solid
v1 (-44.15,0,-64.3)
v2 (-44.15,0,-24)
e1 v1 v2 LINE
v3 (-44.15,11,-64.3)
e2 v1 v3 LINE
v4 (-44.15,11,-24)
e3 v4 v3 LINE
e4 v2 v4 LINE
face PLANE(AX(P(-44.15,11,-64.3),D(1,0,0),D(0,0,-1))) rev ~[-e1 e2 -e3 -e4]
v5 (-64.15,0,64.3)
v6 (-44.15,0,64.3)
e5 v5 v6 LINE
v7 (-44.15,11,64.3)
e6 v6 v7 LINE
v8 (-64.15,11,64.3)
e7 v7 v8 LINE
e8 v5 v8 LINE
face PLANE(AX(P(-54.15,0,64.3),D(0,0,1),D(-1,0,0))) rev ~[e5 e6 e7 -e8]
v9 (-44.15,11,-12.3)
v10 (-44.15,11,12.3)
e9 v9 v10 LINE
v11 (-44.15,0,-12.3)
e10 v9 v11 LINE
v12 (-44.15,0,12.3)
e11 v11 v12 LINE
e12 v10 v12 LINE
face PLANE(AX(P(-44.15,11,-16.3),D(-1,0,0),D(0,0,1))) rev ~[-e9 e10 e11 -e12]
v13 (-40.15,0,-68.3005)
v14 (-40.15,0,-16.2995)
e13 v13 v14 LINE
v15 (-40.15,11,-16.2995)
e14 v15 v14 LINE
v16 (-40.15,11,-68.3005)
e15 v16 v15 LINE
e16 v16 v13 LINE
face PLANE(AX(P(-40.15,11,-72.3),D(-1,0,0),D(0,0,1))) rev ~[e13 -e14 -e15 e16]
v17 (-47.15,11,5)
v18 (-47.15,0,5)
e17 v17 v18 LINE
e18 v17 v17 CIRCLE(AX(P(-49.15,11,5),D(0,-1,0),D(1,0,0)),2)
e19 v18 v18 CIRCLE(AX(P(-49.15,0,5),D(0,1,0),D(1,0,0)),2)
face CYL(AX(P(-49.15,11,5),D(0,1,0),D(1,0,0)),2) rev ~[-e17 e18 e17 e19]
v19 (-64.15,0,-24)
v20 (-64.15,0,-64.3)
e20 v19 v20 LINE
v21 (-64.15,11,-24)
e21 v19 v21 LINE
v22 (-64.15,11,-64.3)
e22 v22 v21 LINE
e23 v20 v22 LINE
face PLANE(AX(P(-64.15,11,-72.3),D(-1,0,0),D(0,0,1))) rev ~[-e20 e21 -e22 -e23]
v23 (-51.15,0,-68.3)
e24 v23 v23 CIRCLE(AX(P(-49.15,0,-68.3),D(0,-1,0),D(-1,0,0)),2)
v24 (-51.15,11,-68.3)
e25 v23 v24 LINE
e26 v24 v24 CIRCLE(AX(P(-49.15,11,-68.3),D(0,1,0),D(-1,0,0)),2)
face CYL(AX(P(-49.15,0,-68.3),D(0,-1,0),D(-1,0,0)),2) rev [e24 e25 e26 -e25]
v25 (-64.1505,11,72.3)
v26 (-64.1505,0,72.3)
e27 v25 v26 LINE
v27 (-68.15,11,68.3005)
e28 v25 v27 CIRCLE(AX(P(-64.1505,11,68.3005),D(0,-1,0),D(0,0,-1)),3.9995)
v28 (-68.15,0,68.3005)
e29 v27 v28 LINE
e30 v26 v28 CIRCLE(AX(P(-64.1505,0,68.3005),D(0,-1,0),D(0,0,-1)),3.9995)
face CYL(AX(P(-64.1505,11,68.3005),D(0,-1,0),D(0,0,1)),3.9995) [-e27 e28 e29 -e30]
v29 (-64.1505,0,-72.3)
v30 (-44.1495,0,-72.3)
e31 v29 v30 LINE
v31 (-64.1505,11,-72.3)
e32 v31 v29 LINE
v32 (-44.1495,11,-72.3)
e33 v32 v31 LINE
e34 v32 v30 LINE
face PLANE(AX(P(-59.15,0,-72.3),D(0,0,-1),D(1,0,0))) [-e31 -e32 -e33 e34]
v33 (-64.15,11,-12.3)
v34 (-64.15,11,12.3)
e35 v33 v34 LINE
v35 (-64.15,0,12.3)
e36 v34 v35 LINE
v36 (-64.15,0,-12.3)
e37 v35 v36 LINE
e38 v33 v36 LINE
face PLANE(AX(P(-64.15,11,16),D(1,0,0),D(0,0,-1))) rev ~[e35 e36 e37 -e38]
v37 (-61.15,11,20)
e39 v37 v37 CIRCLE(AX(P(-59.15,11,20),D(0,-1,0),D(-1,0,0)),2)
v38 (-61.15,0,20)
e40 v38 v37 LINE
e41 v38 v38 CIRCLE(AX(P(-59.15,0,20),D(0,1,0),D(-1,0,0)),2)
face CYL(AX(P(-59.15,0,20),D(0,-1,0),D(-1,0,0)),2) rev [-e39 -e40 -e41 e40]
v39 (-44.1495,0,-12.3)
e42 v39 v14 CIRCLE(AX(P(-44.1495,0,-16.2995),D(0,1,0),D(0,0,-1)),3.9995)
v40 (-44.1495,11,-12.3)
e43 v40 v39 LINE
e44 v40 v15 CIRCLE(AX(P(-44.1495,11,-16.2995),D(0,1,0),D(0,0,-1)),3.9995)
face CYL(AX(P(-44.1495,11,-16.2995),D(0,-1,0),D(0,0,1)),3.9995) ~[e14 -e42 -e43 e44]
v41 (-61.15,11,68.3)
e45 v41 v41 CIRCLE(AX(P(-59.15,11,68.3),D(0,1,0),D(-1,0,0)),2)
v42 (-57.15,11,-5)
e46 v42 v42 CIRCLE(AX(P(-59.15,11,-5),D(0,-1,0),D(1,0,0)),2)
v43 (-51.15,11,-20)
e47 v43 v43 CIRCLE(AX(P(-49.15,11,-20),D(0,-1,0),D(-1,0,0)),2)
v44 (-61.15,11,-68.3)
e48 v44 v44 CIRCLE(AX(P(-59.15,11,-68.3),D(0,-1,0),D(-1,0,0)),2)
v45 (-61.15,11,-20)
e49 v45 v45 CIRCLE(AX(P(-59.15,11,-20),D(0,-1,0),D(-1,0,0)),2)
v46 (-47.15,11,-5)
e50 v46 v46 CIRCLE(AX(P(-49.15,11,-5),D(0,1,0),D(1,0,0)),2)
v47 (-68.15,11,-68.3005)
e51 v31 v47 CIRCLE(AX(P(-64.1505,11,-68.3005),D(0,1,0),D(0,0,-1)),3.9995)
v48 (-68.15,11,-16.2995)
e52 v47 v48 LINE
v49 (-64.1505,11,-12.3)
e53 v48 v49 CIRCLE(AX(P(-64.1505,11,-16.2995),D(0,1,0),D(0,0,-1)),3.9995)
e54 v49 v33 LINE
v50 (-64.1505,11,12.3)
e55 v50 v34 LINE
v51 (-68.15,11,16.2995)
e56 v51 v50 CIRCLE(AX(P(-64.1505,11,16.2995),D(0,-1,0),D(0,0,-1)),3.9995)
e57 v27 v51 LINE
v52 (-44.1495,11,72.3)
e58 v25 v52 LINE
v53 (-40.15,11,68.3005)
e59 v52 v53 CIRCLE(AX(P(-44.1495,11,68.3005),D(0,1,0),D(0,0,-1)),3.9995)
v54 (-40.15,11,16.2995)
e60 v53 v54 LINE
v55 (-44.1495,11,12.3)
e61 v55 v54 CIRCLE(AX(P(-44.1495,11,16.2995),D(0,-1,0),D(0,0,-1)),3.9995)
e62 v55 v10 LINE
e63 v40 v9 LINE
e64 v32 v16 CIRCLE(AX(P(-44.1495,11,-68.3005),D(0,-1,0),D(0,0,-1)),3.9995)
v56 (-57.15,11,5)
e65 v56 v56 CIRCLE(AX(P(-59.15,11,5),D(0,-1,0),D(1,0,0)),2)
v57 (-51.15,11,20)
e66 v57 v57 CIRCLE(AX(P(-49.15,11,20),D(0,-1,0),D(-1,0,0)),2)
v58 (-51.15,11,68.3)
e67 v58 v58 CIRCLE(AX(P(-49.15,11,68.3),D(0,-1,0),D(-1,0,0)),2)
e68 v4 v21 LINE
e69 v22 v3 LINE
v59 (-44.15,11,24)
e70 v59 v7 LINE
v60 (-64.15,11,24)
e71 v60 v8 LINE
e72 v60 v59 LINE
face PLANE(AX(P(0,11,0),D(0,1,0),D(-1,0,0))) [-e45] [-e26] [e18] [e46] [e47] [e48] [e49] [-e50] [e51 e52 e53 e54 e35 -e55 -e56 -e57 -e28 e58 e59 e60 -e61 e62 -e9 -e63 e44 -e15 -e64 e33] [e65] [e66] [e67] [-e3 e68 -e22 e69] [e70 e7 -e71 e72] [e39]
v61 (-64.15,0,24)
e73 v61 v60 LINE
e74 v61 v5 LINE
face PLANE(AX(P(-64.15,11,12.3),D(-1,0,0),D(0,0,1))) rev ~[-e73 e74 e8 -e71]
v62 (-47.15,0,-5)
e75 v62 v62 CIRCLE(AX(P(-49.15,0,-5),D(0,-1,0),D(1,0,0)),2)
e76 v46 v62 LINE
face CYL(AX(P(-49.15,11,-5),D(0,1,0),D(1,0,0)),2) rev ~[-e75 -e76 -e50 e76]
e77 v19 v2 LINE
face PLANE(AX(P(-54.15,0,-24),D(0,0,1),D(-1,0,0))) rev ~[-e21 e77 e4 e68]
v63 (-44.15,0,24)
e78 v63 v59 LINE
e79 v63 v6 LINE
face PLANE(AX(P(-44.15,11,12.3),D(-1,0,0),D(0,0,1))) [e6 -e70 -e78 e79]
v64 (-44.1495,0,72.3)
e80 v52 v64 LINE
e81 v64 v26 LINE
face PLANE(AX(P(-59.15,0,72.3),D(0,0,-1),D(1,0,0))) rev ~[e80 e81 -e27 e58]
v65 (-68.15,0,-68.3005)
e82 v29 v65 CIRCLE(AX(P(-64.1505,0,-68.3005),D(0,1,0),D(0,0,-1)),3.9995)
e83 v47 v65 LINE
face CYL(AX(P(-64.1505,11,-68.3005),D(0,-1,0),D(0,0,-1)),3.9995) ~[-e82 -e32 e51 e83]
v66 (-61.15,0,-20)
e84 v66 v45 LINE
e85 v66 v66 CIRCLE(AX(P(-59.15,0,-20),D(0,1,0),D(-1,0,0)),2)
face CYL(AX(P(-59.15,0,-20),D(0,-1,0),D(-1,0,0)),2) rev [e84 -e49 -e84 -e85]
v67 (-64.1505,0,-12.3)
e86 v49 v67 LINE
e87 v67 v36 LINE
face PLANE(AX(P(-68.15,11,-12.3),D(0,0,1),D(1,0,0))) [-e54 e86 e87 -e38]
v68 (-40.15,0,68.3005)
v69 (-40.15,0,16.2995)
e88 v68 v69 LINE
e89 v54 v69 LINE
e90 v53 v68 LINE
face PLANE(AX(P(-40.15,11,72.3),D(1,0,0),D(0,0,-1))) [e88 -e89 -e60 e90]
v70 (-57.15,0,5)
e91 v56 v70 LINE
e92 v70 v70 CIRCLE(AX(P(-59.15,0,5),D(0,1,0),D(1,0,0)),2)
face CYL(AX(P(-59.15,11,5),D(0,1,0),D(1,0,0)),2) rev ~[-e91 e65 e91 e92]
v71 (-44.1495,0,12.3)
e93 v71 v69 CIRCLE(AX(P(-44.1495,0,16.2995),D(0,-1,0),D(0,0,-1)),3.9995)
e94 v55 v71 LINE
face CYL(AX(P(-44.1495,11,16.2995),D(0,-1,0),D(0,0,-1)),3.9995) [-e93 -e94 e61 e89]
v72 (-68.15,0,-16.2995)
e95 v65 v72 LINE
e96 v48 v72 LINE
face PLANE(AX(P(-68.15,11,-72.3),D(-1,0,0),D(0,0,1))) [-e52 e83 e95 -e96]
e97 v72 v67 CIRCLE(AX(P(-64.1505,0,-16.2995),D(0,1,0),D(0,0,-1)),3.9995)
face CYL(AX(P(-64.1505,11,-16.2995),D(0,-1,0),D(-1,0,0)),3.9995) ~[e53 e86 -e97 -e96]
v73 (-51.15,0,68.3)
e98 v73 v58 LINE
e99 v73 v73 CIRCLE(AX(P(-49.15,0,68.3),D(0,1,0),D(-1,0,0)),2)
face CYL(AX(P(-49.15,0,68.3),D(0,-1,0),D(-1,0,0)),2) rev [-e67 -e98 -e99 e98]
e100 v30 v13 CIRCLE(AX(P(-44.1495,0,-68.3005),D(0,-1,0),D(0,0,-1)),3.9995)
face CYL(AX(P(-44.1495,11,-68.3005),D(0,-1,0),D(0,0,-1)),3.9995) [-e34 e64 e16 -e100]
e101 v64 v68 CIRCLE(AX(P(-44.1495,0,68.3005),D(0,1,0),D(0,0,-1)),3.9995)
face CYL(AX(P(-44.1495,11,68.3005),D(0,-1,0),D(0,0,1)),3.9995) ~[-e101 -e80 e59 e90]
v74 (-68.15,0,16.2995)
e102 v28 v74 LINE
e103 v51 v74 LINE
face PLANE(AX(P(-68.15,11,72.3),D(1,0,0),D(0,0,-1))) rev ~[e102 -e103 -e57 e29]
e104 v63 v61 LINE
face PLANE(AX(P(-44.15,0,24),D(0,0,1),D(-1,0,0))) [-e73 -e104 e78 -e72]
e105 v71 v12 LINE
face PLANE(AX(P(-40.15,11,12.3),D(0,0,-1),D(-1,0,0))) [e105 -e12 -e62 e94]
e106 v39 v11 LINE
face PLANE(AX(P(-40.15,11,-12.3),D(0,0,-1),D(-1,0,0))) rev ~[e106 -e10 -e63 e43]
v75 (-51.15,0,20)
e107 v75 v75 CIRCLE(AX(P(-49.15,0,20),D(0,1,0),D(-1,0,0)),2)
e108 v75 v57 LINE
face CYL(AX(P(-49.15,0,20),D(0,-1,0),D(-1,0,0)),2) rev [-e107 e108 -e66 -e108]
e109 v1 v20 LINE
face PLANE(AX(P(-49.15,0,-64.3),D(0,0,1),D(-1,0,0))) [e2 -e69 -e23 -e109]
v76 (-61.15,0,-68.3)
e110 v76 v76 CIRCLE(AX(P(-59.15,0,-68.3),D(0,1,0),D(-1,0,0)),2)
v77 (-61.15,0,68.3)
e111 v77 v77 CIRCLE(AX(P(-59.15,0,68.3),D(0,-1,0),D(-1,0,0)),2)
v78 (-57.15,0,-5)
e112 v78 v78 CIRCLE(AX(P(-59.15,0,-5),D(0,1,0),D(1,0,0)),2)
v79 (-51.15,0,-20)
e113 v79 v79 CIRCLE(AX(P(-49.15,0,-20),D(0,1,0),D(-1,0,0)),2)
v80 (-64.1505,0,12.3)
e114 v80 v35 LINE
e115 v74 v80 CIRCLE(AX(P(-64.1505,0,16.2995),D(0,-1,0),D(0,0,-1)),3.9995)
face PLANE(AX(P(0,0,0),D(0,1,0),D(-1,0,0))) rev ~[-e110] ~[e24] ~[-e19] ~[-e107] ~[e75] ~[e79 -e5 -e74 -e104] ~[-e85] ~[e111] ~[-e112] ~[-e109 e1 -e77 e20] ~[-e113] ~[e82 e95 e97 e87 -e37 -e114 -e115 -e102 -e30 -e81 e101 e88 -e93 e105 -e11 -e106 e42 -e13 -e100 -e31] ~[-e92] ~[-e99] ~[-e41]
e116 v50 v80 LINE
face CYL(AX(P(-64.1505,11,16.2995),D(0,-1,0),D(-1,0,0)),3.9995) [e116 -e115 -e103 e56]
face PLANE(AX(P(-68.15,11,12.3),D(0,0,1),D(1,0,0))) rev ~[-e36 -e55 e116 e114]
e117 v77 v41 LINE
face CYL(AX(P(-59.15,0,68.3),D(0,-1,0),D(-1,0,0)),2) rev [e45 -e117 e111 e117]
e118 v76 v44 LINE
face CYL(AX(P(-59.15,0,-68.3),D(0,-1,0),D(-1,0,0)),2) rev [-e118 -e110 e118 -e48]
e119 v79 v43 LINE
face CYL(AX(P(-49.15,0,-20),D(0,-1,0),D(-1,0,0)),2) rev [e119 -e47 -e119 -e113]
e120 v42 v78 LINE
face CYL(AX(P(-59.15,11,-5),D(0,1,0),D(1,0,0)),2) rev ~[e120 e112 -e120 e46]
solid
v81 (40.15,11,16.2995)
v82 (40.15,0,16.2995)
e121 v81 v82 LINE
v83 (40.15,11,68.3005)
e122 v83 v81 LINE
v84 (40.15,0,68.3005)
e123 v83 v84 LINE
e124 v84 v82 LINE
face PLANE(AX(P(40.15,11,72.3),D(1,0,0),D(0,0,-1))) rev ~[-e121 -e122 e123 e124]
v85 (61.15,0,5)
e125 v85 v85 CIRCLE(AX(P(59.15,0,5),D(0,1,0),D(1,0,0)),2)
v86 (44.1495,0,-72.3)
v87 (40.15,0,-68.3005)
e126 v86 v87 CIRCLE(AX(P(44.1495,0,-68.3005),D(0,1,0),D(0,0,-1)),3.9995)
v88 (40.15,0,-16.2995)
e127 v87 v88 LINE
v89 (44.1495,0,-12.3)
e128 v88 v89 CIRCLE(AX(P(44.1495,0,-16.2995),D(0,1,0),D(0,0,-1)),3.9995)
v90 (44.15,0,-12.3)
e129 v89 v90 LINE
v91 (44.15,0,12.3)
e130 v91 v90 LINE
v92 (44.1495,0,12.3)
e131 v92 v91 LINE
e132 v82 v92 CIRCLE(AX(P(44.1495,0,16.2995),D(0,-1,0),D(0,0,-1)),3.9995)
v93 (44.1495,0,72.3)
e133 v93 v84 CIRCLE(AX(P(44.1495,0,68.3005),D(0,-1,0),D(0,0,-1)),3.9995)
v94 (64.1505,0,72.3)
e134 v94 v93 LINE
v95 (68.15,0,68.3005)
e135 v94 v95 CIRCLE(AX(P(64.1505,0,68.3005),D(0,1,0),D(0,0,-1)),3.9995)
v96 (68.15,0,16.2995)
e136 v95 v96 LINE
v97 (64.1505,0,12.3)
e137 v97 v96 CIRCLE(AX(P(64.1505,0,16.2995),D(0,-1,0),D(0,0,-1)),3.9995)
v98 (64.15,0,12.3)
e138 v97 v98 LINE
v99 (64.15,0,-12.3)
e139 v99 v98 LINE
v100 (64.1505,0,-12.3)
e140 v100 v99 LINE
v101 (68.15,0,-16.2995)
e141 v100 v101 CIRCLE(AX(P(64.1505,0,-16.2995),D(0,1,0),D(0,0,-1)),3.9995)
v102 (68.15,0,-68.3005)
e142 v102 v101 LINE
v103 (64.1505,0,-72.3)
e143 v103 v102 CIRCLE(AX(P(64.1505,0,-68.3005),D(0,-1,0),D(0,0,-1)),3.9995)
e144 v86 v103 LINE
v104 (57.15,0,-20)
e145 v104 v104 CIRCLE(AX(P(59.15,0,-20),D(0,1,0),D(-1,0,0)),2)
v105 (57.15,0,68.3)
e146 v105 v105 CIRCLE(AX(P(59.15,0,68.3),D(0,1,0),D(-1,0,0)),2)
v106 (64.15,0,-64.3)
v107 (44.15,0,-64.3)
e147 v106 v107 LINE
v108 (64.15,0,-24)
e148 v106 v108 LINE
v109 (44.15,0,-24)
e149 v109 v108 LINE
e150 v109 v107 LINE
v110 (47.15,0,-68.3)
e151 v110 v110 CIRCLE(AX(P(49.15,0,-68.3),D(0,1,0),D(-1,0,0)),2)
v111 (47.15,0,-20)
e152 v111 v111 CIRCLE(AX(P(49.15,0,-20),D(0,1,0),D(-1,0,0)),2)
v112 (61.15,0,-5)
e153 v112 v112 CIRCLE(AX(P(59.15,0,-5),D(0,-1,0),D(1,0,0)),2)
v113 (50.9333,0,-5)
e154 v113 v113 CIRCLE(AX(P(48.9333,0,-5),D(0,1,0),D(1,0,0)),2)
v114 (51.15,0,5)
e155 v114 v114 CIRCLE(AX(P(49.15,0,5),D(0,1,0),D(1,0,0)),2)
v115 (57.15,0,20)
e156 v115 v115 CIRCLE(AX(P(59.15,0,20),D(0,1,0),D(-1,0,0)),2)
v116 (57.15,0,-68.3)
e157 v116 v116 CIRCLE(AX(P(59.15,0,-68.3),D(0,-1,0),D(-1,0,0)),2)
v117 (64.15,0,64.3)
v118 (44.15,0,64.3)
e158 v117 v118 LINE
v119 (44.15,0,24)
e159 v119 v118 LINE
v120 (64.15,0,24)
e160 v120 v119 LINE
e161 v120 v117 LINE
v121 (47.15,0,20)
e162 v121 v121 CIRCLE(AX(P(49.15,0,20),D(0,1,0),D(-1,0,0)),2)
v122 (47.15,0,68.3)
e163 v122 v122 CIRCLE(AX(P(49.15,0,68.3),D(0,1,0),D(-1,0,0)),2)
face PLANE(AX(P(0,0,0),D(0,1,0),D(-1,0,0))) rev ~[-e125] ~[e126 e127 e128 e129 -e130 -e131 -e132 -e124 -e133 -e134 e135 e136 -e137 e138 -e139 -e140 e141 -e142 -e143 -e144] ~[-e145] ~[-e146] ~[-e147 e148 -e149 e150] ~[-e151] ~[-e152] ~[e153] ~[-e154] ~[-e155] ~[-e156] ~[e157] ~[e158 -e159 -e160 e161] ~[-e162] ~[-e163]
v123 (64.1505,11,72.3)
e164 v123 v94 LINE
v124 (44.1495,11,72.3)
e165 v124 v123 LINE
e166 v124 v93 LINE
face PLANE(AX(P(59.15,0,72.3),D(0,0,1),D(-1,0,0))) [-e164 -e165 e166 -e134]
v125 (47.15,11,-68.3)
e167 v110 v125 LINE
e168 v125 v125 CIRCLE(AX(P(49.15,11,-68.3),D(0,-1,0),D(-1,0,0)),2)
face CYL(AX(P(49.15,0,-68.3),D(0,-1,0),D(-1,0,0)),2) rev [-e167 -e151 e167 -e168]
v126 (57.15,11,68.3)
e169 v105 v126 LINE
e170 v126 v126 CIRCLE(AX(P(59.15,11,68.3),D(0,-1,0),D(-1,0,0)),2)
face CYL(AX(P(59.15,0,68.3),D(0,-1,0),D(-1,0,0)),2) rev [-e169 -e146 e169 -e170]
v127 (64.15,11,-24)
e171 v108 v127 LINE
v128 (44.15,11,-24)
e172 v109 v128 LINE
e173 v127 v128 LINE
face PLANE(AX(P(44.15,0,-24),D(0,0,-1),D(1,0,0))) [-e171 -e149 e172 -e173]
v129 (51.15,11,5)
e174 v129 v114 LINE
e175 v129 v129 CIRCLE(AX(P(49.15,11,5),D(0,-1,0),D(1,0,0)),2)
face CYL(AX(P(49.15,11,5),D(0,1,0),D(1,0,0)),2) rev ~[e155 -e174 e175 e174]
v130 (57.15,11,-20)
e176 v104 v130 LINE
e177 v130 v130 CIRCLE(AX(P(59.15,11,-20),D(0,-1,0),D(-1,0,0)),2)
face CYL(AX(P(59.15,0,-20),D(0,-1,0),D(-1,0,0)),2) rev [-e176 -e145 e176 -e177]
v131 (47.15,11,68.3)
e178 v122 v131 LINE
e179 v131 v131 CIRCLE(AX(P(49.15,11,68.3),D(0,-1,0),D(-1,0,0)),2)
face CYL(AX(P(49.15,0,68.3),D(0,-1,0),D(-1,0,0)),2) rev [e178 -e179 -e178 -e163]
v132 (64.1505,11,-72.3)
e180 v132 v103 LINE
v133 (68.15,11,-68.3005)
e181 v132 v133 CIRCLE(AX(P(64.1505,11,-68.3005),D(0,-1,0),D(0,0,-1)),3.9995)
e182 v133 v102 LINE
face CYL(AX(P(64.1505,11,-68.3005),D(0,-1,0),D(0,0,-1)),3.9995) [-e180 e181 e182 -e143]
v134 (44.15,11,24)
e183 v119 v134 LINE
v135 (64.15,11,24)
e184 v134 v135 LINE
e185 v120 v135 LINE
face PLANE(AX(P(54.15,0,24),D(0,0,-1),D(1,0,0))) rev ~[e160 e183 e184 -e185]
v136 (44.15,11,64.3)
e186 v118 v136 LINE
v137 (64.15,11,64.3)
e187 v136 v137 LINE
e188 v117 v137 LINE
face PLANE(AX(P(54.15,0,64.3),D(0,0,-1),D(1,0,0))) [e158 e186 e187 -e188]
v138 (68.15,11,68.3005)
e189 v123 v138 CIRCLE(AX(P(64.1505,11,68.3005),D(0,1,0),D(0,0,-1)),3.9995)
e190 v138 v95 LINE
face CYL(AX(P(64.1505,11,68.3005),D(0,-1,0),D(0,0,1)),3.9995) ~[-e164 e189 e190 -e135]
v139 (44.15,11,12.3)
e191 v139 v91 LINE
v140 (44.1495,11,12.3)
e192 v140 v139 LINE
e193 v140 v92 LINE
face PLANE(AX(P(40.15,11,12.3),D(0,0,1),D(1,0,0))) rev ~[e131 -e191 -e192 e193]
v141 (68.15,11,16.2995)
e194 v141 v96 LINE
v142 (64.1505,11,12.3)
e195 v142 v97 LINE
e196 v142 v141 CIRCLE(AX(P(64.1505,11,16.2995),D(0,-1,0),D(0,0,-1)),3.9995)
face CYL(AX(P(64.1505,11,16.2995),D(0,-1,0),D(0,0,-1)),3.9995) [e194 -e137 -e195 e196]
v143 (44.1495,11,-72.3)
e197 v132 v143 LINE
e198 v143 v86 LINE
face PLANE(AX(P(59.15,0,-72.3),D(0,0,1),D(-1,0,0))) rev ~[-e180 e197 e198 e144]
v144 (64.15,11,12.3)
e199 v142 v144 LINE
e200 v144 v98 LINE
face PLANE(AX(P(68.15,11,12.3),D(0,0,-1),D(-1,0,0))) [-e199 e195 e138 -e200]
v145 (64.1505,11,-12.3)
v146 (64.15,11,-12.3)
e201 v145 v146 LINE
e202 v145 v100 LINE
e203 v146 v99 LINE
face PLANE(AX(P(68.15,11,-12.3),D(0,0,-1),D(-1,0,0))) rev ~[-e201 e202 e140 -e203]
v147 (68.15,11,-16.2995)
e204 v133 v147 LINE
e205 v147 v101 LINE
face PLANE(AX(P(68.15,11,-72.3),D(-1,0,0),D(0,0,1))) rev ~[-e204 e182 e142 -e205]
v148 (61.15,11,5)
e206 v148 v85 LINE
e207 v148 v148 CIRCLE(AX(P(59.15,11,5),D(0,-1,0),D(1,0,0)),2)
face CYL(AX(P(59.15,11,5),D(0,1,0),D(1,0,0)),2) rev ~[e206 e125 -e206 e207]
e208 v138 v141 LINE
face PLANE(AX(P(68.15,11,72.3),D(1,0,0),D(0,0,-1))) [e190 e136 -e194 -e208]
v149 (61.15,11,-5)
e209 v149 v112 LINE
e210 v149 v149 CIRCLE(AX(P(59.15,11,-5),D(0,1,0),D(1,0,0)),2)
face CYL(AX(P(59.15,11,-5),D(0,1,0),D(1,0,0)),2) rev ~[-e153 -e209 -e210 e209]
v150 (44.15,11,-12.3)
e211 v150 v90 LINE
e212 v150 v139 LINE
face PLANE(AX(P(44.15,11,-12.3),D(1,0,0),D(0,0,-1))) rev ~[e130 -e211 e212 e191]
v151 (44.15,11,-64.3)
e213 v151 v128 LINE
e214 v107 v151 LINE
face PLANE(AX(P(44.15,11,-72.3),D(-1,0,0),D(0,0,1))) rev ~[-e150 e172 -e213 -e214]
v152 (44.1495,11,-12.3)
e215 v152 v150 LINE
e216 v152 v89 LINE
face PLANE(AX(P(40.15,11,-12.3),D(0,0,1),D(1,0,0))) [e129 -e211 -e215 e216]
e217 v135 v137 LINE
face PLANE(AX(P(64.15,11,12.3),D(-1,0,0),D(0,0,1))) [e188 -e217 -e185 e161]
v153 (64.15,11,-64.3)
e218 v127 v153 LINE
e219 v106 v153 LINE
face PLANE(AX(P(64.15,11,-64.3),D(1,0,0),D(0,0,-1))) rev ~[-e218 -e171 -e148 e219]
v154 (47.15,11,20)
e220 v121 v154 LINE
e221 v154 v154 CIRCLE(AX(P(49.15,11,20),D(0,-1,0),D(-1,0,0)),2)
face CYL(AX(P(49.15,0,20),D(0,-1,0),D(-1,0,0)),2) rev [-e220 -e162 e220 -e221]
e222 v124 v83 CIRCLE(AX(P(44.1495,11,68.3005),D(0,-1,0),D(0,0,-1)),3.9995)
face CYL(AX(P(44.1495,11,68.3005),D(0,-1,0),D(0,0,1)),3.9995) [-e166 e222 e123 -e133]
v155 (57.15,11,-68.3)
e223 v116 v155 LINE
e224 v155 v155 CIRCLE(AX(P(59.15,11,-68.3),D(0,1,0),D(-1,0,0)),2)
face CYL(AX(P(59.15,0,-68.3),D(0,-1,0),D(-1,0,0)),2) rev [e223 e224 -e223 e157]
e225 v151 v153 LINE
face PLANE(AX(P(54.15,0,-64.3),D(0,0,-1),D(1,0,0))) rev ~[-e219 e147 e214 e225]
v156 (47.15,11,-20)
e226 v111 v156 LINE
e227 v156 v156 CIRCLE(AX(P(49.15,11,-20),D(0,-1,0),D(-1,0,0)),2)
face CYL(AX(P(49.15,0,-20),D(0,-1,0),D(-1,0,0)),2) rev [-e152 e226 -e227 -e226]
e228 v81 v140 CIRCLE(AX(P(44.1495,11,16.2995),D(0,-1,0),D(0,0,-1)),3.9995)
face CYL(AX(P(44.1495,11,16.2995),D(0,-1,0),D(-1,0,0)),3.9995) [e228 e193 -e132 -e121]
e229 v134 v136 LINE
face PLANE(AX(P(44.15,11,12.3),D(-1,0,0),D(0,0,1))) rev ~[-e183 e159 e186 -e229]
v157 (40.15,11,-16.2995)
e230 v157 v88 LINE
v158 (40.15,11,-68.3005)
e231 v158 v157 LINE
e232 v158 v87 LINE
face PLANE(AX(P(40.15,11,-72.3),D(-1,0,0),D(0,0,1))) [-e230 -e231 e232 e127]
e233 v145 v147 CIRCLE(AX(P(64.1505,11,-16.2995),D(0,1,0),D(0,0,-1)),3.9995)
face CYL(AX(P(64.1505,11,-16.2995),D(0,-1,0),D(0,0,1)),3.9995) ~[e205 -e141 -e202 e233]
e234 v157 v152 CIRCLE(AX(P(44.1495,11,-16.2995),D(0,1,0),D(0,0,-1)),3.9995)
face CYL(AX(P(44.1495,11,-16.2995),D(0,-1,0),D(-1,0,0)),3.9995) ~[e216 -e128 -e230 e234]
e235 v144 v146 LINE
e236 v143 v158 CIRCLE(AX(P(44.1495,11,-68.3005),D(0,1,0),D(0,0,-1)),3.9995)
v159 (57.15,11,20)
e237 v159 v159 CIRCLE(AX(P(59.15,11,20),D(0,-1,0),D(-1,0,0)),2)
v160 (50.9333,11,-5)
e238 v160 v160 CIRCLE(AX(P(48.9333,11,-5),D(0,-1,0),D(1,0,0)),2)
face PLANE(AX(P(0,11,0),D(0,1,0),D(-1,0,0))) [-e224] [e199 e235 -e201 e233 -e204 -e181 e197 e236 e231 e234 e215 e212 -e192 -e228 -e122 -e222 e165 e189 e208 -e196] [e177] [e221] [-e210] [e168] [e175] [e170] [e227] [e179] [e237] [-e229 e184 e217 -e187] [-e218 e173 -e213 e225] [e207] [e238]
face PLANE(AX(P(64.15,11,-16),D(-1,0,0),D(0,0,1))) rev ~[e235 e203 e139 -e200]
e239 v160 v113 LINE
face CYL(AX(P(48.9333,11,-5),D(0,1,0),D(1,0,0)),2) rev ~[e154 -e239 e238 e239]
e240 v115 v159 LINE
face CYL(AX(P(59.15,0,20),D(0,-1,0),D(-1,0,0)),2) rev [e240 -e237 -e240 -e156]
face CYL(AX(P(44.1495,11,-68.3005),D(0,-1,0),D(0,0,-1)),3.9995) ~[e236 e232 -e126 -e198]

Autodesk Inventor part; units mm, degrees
ref_plane "YZ Plane" through (0, 0, 0) normal (1, 0, 0) x (0, 1, 0)
ref_plane "XZ Plane" through (0, 0, 0) normal (0, 1, 0) x (-1, 0, 0)
ref_plane "XY Plane" through (0, 0, 0) normal (0, 0, 1) x (1, 0, 0)
sketch "Sketch1" plane through (0, 0, 0) normal (0, 1, 0) x (-1, 0, 0)
  line L0 (0, 0) -> (54.15, 0)
  line L1 (54.15, 20) -> (54.15, -20)
  line L2 (49.15, -20) -> (59.15, -20)
  circle A0 centre (59.15, -20) radius 2
  circle A1 centre (49.15, -20) radius 2
  line L3 (59.15, -20) -> (49.15, -20)
  line L4 (49.15, -20) -> (49.15, -68.3)
  line L5 (49.15, -68.3) -> (59.15, -68.3)
  line L6 (59.15, -68.3) -> (59.15, -20)
  circle A2 centre (59.15, -68.3) radius 2
  circle A3 centre (49.15, -68.3) radius 2
  line L7 (59.15, -20) -> (64.15, -20)
  line L8 (64.15, -20) -> (64.15, -16)
  line L9 (64.15, -16) -> (59.15, -16)
  line L10 (59.15, -16) -> (59.15, -20)
  line L11 (49.15, -20) -> (44.15, -20)
  line L12 (44.15, -20) -> (44.15, -24)
  line L13 (44.15, -24) -> (49.15, -24)
  line L14 (49.15, -24) -> (49.15, -20)
  line L15 (64.15, -16) -> (44.15, -16)
  line L16 (44.15, -16) -> (44.15, -24)
  line L17 (44.15, -24) -> (64.15, -24)
  line L18 (64.15, -24) -> (64.15, -16)
  line L19 (59.15, -68.3) -> (64.15, -68.3)
  line L20 (64.15, -68.3) -> (64.15, -72.3)
  line L21 (64.15, -72.3) -> (59.15, -72.3)
  line L22 (59.15, -72.3) -> (59.15, -68.3)
  line L23 (49.15, -68.3) -> (44.15, -68.3)
  line L24 (44.15, -68.3) -> (44.15, -64.3)
  line L25 (44.15, -64.3) -> (49.15, -64.3)
  line L26 (49.15, -64.3) -> (49.15, -68.3)
  line L27 (44.15, -64.3) -> (64.15, -64.3)
  line L28 (64.15, -64.3) -> (64.15, -72.3)
  line L29 (64.15, -72.3) -> (44.15, -72.3)
  line L30 (44.15, -72.3) -> (44.15, -64.3)
  line L31 (54.15, -20) -> (54.15, -68.3)
  line L32 (54.15, -20) -> (54.15, 20)
  line L33 (49.15, 20) -> (59.15, 20)
  circle A4 centre (59.15, 20) radius 2
  circle A5 centre (49.15, 20) radius 2
  line L34 (59.15, 20) -> (49.15, 20)
  line L35 (49.15, 20) -> (49.15, 68.3)
  line L36 (49.15, 68.3) -> (59.15, 68.3)
  line L37 (59.15, 68.3) -> (59.15, 20)
  circle A6 centre (59.15, 68.3) radius 2
  circle A7 centre (49.15, 68.3) radius 2
  line L38 (59.15, 20) -> (64.15, 20)
  line L39 (64.15, 20) -> (64.15, 16)
  line L40 (64.15, 16) -> (59.15, 16)
  line L41 (59.15, 16) -> (59.15, 20)
  line L42 (49.15, 20) -> (44.15, 20)
  line L43 (44.15, 20) -> (44.15, 24)
  line L44 (44.15, 24) -> (49.15, 24)
  line L45 (49.15, 24) -> (49.15, 20)
  line L46 (64.15, 16) -> (44.15, 16)
  line L47 (44.15, 16) -> (44.15, 24)
  line L48 (44.15, 24) -> (64.15, 24)
  line L49 (64.15, 24) -> (64.15, 16)
  line L50 (59.15, 68.3) -> (64.15, 68.3)
  line L51 (64.15, 68.3) -> (64.15, 72.3)
  line L52 (64.15, 72.3) -> (59.15, 72.3)
  line L53 (59.15, 72.3) -> (59.15, 68.3)
  line L54 (49.15, 68.3) -> (44.15, 68.3)
  line L55 (44.15, 68.3) -> (44.15, 64.3)
  line L56 (44.15, 64.3) -> (49.15, 64.3)
  line L57 (49.15, 64.3) -> (49.15, 68.3)
  line L58 (44.15, 64.3) -> (64.15, 64.3)
  line L59 (64.15, 64.3) -> (64.15, 72.3)
  line L60 (64.15, 72.3) -> (44.15, 72.3)
  line L61 (44.15, 72.3) -> (44.15, 64.3)
  line L62 (54.15, 20) -> (54.15, 68.3)
  line L63 (0, 5) -> (0, -5)
  line L64 (0, 0) -> (-54.15, 0)
  line L65 (-54.15, 20) -> (-54.15, -20)
  line L66 (-49.15, -20) -> (-59.15, -20)
  circle A8 centre (-59.15, -20) radius 2
  circle A9 centre (-49.15, -20) radius 2
  line L67 (-59.15, -20) -> (-49.15, -20)
  line L68 (-49.15, -20) -> (-49.15, -68.3)
  line L69 (-49.15, -68.3) -> (-59.15, -68.3)
  line L70 (-59.15, -68.3) -> (-59.15, -20)
  circle A10 centre (-59.15, -68.3) radius 2
  circle A11 centre (-49.15, -68.3) radius 2
  line L71 (-59.15, -20) -> (-64.15, -20)
  line L72 (-64.15, -20) -> (-64.15, -16)
  line L73 (-64.15, -16) -> (-59.15, -16)
  line L74 (-59.15, -16) -> (-59.15, -20)
  line L75 (-49.15, -20) -> (-44.15, -20)
  line L76 (-44.15, -20) -> (-44.15, -24)
  line L77 (-44.15, -24) -> (-49.15, -24)
  line L78 (-49.15, -24) -> (-49.15, -20)
  line L79 (-64.15, -16) -> (-44.15, -16)
  line L80 (-44.15, -16) -> (-44.15, -24)
  line L81 (-44.15, -24) -> (-64.15, -24)
  line L82 (-64.15, -24) -> (-64.15, -16)
  line L83 (-59.15, -68.3) -> (-64.15, -68.3)
  line L84 (-64.15, -68.3) -> (-64.15, -72.3)
  line L85 (-64.15, -72.3) -> (-59.15, -72.3)
  line L86 (-59.15, -72.3) -> (-59.15, -68.3)
  line L87 (-49.15, -68.3) -> (-44.15, -68.3)
  line L88 (-44.15, -68.3) -> (-44.15, -64.3)
  line L89 (-44.15, -64.3) -> (-49.15, -64.3)
  line L90 (-49.15, -64.3) -> (-49.15, -68.3)
  line L91 (-44.15, -64.3) -> (-64.15, -64.3)
  line L92 (-64.15, -64.3) -> (-64.15, -72.3)
  line L93 (-64.15, -72.3) -> (-44.15, -72.3)
  line L94 (-44.15, -72.3) -> (-44.15, -64.3)
  line L95 (-54.15, -20) -> (-54.15, -68.3)
  circle A12 centre (-59.15, 20) radius 2
  line L96 (-64.15, 16) -> (-44.15, 16)
  line L97 (-44.15, 16) -> (-44.15, 24)
  circle A13 centre (-49.15, 20) radius 2
  line L98 (-49.15, 20) -> (-59.15, 20)
  line L99 (-59.15, 20) -> (-49.15, 20)
  line L100 (-44.15, 24) -> (-64.15, 24)
  line L101 (-44.15, 24) -> (-49.15, 24)
  line L102 (-44.15, 20) -> (-44.15, 24)
  line L103 (-59.15, 68.3) -> (-59.15, 20)
  line L104 (-54.15, 20) -> (-54.15, 68.3)
  line L105 (-49.15, 20) -> (-49.15, 68.3)
  line L106 (-49.15, 24) -> (-49.15, 20)
  line L107 (-59.15, 20) -> (-64.15, 20)
  line L108 (-59.15, 16) -> (-59.15, 20)
  line L109 (-64.15, 24) -> (-64.15, 16)
  line L110 (-64.15, 20) -> (-64.15, 16)
  line L111 (-64.15, 16) -> (-59.15, 16)
  line L112 (-49.15, 68.3) -> (-59.15, 68.3)
  circle A14 centre (-59.15, 68.3) radius 2
  circle A15 centre (-49.15, 68.3) radius 2
  line L113 (-44.15, 64.3) -> (-49.15, 64.3)
  line L114 (-44.15, 64.3) -> (-64.15, 64.3)
  line L115 (-44.15, 68.3) -> (-44.15, 64.3)
  line L116 (-49.15, 64.3) -> (-49.15, 68.3)
  line L117 (-59.15, 68.3) -> (-64.15, 68.3)
  line L118 (-44.15, 72.3) -> (-44.15, 64.3)
  line L119 (-59.15, 72.3) -> (-59.15, 68.3)
  line L120 (-64.15, 64.3) -> (-64.15, 72.3)
  line L121 (-64.15, 68.3) -> (-64.15, 72.3)
  line L122 (-64.15, 72.3) -> (-59.15, 72.3)
  line L123 (-64.15, 72.3) -> (-44.15, 72.3)
  line L124 (-49.15, 68.3) -> (-44.15, 68.3)
  line L125 (-49.15, 20) -> (-44.15, 20)
  line L126 (-54.15, -20) -> (-54.15, 20)
  point P0 (64.15, -20)
  point P1 (-49.15, 24)
  point P2 (-64.15, 20)
  dimension "d0" = 54.15
  dimension "d1" = 40
  dimension "d3" = 10
  dimension "d6" = 4
  dimension "d7" = 4
  dimension "d11" = 48.3
  dimension "d12" = 4
  dimension "d13" = 4
  dimension "d14" = 5
  dimension "d15" = 4
  dimension "d16" = 5
  dimension "d17" = 4
  dimension "d18" = 5
  dimension "d19" = 4
  dimension "d20" = 5
  dimension "d21" = 4
  dimension "d22" = 10
extrude "Extrusion1" add sketch "Sketch1" along normal blind 11 contours L46 L47 L42 A5 L33 L1 | L1 L33 A4 L41 L46 | L15 L10 A0 L2 L1 | L1 L2 A1 L11 L16 L15 | L79 L80 L75 A9 L66 L65 | L65 L66 A8 L74 L79 | L96 L108 A12 L98 L65 | L65 L98 A13 L125 L97 L96 | L62 L48 L37 A4 L33 | L33 A5 L35 L48 L62 | L41 A4 L38 L39 L40 | L31 L17 L4 A1 L2 | L2 A0 L6 L17 L31 | L9 L8 L7 A0 L10 | L104 L100 L105 A13 L98 | L98 A12 L103 L100 L104 | L96 L109 L107 A12 L108 | L95 L81 L70 A8 L66 | L66 A9 L68 L81 L95 | L74 A8 L71 L72 L73 | L43 L44 L35 A5 L42 | L11 A1 L4 L13 L12 | L125 A13 L105 L100 L97 | L76 L77 L68 A9 L75 | L37 L48 L49 L38 A4 | L62 L36 A6 L37 L58 | L58 L35 A7 L36 L62 | A0 L7 L18 L17 L6 | L31 L5 A3 L4 L27 | L27 L6 A2 L5 L31 | A12 L107 L109 L100 L103 | L114 L103 A14 L112 L104 | L104 L112 A15 L105 L114 | L70 L81 L82 L71 A8 | L95 L69 A10 L70 L91 | L91 L68 A11 L69 L95 | L56 L55 L54 A7 L35 | L37 A6 L50 L59 L58 | L36 A7 L54 L61 L60 L53 A6 | L4 A3 L23 L24 L25 | L27 L28 L19 A2 L6 | L5 A2 L22 L29 L30 L23 A3 | L105 A15 L124 L115 L113 | L114 L120 L117 A14 L103 | L112 A14 L119 L123 L118 L124 A15 | L89 L88 L87 A11 L68 | L70 A10 L83 L92 L91 | L69 A11 L87 L94 L93 L86 A10 | A6 L53 L52 L51 L50 | L19 L20 L21 L22 A2 | L117 L120 L122 L119 A14 | A10 L86 L85 L84 L83
sketch "Sketch4" plane through (0, 11, 0) normal (0, 1, 0) x (1, 0, 0)
  line L0 (64.15, 64.3) -> (64.15, 72.3) projected
  line L1 (64.15, 72.3) -> (68.15, 72.3)
  line L2 (68.15, 72.3) -> (68.15, 12.3)
  line L3 (68.15, 12.3) -> (64.15, 12.3)
  line L4 (64.15, 12.3) -> (64.15, 72.3)
  line L5 (44.15, 72.3) -> (44.15, 64.3) projected
  line L6 (44.15, 72.3) -> (40.15, 72.3)
  line L7 (40.15, 72.3) -> (40.15, 12.3)
  line L8 (40.15, 12.3) -> (44.15, 12.3)
  line L9 (44.15, 12.3) -> (44.15, 72.3)
  line L10 (-44.15, 64.3) -> (-44.15, 72.3) projected
  line L11 (-44.15, 72.3) -> (-40.15, 72.3)
  line L12 (-40.15, 72.3) -> (-40.15, 12.3)
  line L13 (-40.15, 12.3) -> (-44.15, 12.3)
  line L14 (-44.15, 12.3) -> (-44.15, 72.3)
  line L15 (-64.15, 72.3) -> (-64.15, 64.3) projected
  line L16 (-64.15, 72.3) -> (-68.15, 72.3)
  line L17 (-68.15, 72.3) -> (-68.15, 12.3)
  line L18 (-68.15, 12.3) -> (-64.15, 12.3)
  line L19 (-64.15, 12.3) -> (-64.15, 72.3)
  line L20 (-64.15, -72.3) -> (-44.15, -72.3) projected
  line L21 (-44.15, -72.3) -> (-40.15, -72.3)
  line L22 (-40.15, -72.3) -> (-40.15, -12.3)
  line L23 (-40.15, -12.3) -> (-44.15, -12.3)
  line L24 (-44.15, -12.3) -> (-44.15, -72.3)
  line L25 (44.15, -72.3) -> (40.15, -72.3)
  line L26 (40.15, -72.3) -> (40.15, -12.3)
  line L27 (40.15, -12.3) -> (44.15, -12.3)
  line L28 (44.15, -12.3) -> (44.15, -72.3)
  line L29 (64.15, -72.3) -> (68.15, -72.3)
  line L30 (68.15, -72.3) -> (68.15, -12.3)
  line L31 (68.15, -12.3) -> (64.15, -12.3)
  line L32 (64.15, -12.3) -> (64.15, -72.3)
  line L33 (-64.15, -72.3) -> (-68.15, -72.3)
  line L34 (-68.15, -72.3) -> (-68.15, -12.3)
  line L35 (-68.15, -12.3) -> (-64.15, -12.3)
  line L36 (-64.15, -12.3) -> (-64.15, -72.3)
  point P0 (0, 0)
  dimension "d35" = 4
  dimension "d36" = 60
  dimension "d37" = 4
  dimension "d38" = 60
  dimension "d39" = 4
  dimension "d40" = 60
  dimension "d41" = 4
  dimension "d42" = 60
  dimension "d43" = 4
  dimension "d44" = 60
extrude "Extrusion4" add sketch "Sketch4" against normal up to surface (11 mm away)
fillet "Fillet1" radius 4 16 edges at (-40.15, 5.5, 12.3) (-40.15, 5.5, -12.3) (40.15, 5.5, 12.3) (40.15, 5.5, -12.3) (68.15, 5.5, 12.3) (68.15, 5.5, -12.3) (-68.15, 5.5, 12.3) (-68.15, 5.5, -12.3) (-68.15, 5.5, 72.3) (68.15, 5.5, 72.3) (68.15, 5.5, -72.3) (-68.15, 5.5, -72.3) (-40.15, 5.5, 72.3) (-40.15, 5.5, -72.3) (40.15, 5.5, -72.3) (40.15, 5.5, 72.3)
sketch "Sketch5" plane through (0, 11, 0) normal (0, 1, 0) x (1, 0, 0)
  arc A0 (-68.15, 16.3) -> (-64.15, 12.3) centre (-64.15, 16.3) ccw projected
  line L0 (-44.15, -16) -> (-64.15, -16) projected
  line L1 (-64.15, 16.3) -> (-44.15, 16.3)
  line L2 (-44.15, 16.3) -> (-44.15, -16)
  line L3 (-44.15, -16) -> (-64.15, -16)
  line L4 (-64.15, -16) -> (-64.15, 16.3)
  line L5 (44.15, 12.3) -> (44.15, 16) projected
  line L6 (64.15, -16) -> (64.15, -12.3) projected
  line L7 (44.15, 16) -> (64.15, 16)
  line L8 (64.15, 16) -> (64.15, -16)
  line L9 (64.15, -16) -> (44.15, -16)
  line L10 (44.15, -16) -> (44.15, 16)
  line L11 (-54.15, 16.3) -> (-54.15, 0)
  line L12 (-59.15, -5) -> (-49.15, -5)
  line L13 (-49.15, -5) -> (-49.15, 5)
  line L14 (-49.15, 5) -> (-59.15, 5)
  line L15 (-59.15, 5) -> (-59.15, -5)
  line L16 (-59.15, -5) -> (-49.15, 5) construction
  line L17 (-49.15, -5) -> (-59.15, 5) construction
  circle A1 centre (-59.15, 5) radius 2
  circle A2 centre (-49.15, 5) radius 2
  circle A3 centre (-59.15, -5) radius 2
  circle A4 centre (-49.15, -5) radius 2
  line L18 (54.15, 16) -> (54.15, 0)
  line L19 (49.15, -5) -> (59.15, -5)
  line L20 (59.15, -5) -> (59.15, 5)
  line L21 (59.15, 5) -> (49.15, 5)
  line L22 (49.15, 5) -> (49.15, -5)
  line L23 (49.15, -5) -> (59.15, 5) construction
  line L24 (59.15, -5) -> (49.15, 5) construction
  circle A5 centre (48.9333, 5) radius 2
  circle A6 centre (59.15, 5) radius 2
  circle A7 centre (49.15, -5) radius 2
  circle A8 centre (59.15, -5) radius 2
  point P0 (0, 0)
  dimension "d48" = 10
  dimension "d49" = 10
  dimension "d50" = 4
  dimension "d51" = 4
  dimension "d52" = 4
  dimension "d53" = 4
  dimension "d54" = 10
  dimension "d55" = 10
  dimension "d56" = 4
  dimension "d57" = 4
  dimension "d58" = 4
  dimension "d59" = 4
extrude "Extrusion5" add sketch "Sketch5" against normal up to surface (11 mm away) contours L14 A2 L13 A4 L12 A3 L15 A1 | L0 L4 L1 L2 | L21 A6 L20 A8 L19 A7 L22 A5 | L5 L7 L8 L6 L9 L10
properties part number "robot_7_chassis"
